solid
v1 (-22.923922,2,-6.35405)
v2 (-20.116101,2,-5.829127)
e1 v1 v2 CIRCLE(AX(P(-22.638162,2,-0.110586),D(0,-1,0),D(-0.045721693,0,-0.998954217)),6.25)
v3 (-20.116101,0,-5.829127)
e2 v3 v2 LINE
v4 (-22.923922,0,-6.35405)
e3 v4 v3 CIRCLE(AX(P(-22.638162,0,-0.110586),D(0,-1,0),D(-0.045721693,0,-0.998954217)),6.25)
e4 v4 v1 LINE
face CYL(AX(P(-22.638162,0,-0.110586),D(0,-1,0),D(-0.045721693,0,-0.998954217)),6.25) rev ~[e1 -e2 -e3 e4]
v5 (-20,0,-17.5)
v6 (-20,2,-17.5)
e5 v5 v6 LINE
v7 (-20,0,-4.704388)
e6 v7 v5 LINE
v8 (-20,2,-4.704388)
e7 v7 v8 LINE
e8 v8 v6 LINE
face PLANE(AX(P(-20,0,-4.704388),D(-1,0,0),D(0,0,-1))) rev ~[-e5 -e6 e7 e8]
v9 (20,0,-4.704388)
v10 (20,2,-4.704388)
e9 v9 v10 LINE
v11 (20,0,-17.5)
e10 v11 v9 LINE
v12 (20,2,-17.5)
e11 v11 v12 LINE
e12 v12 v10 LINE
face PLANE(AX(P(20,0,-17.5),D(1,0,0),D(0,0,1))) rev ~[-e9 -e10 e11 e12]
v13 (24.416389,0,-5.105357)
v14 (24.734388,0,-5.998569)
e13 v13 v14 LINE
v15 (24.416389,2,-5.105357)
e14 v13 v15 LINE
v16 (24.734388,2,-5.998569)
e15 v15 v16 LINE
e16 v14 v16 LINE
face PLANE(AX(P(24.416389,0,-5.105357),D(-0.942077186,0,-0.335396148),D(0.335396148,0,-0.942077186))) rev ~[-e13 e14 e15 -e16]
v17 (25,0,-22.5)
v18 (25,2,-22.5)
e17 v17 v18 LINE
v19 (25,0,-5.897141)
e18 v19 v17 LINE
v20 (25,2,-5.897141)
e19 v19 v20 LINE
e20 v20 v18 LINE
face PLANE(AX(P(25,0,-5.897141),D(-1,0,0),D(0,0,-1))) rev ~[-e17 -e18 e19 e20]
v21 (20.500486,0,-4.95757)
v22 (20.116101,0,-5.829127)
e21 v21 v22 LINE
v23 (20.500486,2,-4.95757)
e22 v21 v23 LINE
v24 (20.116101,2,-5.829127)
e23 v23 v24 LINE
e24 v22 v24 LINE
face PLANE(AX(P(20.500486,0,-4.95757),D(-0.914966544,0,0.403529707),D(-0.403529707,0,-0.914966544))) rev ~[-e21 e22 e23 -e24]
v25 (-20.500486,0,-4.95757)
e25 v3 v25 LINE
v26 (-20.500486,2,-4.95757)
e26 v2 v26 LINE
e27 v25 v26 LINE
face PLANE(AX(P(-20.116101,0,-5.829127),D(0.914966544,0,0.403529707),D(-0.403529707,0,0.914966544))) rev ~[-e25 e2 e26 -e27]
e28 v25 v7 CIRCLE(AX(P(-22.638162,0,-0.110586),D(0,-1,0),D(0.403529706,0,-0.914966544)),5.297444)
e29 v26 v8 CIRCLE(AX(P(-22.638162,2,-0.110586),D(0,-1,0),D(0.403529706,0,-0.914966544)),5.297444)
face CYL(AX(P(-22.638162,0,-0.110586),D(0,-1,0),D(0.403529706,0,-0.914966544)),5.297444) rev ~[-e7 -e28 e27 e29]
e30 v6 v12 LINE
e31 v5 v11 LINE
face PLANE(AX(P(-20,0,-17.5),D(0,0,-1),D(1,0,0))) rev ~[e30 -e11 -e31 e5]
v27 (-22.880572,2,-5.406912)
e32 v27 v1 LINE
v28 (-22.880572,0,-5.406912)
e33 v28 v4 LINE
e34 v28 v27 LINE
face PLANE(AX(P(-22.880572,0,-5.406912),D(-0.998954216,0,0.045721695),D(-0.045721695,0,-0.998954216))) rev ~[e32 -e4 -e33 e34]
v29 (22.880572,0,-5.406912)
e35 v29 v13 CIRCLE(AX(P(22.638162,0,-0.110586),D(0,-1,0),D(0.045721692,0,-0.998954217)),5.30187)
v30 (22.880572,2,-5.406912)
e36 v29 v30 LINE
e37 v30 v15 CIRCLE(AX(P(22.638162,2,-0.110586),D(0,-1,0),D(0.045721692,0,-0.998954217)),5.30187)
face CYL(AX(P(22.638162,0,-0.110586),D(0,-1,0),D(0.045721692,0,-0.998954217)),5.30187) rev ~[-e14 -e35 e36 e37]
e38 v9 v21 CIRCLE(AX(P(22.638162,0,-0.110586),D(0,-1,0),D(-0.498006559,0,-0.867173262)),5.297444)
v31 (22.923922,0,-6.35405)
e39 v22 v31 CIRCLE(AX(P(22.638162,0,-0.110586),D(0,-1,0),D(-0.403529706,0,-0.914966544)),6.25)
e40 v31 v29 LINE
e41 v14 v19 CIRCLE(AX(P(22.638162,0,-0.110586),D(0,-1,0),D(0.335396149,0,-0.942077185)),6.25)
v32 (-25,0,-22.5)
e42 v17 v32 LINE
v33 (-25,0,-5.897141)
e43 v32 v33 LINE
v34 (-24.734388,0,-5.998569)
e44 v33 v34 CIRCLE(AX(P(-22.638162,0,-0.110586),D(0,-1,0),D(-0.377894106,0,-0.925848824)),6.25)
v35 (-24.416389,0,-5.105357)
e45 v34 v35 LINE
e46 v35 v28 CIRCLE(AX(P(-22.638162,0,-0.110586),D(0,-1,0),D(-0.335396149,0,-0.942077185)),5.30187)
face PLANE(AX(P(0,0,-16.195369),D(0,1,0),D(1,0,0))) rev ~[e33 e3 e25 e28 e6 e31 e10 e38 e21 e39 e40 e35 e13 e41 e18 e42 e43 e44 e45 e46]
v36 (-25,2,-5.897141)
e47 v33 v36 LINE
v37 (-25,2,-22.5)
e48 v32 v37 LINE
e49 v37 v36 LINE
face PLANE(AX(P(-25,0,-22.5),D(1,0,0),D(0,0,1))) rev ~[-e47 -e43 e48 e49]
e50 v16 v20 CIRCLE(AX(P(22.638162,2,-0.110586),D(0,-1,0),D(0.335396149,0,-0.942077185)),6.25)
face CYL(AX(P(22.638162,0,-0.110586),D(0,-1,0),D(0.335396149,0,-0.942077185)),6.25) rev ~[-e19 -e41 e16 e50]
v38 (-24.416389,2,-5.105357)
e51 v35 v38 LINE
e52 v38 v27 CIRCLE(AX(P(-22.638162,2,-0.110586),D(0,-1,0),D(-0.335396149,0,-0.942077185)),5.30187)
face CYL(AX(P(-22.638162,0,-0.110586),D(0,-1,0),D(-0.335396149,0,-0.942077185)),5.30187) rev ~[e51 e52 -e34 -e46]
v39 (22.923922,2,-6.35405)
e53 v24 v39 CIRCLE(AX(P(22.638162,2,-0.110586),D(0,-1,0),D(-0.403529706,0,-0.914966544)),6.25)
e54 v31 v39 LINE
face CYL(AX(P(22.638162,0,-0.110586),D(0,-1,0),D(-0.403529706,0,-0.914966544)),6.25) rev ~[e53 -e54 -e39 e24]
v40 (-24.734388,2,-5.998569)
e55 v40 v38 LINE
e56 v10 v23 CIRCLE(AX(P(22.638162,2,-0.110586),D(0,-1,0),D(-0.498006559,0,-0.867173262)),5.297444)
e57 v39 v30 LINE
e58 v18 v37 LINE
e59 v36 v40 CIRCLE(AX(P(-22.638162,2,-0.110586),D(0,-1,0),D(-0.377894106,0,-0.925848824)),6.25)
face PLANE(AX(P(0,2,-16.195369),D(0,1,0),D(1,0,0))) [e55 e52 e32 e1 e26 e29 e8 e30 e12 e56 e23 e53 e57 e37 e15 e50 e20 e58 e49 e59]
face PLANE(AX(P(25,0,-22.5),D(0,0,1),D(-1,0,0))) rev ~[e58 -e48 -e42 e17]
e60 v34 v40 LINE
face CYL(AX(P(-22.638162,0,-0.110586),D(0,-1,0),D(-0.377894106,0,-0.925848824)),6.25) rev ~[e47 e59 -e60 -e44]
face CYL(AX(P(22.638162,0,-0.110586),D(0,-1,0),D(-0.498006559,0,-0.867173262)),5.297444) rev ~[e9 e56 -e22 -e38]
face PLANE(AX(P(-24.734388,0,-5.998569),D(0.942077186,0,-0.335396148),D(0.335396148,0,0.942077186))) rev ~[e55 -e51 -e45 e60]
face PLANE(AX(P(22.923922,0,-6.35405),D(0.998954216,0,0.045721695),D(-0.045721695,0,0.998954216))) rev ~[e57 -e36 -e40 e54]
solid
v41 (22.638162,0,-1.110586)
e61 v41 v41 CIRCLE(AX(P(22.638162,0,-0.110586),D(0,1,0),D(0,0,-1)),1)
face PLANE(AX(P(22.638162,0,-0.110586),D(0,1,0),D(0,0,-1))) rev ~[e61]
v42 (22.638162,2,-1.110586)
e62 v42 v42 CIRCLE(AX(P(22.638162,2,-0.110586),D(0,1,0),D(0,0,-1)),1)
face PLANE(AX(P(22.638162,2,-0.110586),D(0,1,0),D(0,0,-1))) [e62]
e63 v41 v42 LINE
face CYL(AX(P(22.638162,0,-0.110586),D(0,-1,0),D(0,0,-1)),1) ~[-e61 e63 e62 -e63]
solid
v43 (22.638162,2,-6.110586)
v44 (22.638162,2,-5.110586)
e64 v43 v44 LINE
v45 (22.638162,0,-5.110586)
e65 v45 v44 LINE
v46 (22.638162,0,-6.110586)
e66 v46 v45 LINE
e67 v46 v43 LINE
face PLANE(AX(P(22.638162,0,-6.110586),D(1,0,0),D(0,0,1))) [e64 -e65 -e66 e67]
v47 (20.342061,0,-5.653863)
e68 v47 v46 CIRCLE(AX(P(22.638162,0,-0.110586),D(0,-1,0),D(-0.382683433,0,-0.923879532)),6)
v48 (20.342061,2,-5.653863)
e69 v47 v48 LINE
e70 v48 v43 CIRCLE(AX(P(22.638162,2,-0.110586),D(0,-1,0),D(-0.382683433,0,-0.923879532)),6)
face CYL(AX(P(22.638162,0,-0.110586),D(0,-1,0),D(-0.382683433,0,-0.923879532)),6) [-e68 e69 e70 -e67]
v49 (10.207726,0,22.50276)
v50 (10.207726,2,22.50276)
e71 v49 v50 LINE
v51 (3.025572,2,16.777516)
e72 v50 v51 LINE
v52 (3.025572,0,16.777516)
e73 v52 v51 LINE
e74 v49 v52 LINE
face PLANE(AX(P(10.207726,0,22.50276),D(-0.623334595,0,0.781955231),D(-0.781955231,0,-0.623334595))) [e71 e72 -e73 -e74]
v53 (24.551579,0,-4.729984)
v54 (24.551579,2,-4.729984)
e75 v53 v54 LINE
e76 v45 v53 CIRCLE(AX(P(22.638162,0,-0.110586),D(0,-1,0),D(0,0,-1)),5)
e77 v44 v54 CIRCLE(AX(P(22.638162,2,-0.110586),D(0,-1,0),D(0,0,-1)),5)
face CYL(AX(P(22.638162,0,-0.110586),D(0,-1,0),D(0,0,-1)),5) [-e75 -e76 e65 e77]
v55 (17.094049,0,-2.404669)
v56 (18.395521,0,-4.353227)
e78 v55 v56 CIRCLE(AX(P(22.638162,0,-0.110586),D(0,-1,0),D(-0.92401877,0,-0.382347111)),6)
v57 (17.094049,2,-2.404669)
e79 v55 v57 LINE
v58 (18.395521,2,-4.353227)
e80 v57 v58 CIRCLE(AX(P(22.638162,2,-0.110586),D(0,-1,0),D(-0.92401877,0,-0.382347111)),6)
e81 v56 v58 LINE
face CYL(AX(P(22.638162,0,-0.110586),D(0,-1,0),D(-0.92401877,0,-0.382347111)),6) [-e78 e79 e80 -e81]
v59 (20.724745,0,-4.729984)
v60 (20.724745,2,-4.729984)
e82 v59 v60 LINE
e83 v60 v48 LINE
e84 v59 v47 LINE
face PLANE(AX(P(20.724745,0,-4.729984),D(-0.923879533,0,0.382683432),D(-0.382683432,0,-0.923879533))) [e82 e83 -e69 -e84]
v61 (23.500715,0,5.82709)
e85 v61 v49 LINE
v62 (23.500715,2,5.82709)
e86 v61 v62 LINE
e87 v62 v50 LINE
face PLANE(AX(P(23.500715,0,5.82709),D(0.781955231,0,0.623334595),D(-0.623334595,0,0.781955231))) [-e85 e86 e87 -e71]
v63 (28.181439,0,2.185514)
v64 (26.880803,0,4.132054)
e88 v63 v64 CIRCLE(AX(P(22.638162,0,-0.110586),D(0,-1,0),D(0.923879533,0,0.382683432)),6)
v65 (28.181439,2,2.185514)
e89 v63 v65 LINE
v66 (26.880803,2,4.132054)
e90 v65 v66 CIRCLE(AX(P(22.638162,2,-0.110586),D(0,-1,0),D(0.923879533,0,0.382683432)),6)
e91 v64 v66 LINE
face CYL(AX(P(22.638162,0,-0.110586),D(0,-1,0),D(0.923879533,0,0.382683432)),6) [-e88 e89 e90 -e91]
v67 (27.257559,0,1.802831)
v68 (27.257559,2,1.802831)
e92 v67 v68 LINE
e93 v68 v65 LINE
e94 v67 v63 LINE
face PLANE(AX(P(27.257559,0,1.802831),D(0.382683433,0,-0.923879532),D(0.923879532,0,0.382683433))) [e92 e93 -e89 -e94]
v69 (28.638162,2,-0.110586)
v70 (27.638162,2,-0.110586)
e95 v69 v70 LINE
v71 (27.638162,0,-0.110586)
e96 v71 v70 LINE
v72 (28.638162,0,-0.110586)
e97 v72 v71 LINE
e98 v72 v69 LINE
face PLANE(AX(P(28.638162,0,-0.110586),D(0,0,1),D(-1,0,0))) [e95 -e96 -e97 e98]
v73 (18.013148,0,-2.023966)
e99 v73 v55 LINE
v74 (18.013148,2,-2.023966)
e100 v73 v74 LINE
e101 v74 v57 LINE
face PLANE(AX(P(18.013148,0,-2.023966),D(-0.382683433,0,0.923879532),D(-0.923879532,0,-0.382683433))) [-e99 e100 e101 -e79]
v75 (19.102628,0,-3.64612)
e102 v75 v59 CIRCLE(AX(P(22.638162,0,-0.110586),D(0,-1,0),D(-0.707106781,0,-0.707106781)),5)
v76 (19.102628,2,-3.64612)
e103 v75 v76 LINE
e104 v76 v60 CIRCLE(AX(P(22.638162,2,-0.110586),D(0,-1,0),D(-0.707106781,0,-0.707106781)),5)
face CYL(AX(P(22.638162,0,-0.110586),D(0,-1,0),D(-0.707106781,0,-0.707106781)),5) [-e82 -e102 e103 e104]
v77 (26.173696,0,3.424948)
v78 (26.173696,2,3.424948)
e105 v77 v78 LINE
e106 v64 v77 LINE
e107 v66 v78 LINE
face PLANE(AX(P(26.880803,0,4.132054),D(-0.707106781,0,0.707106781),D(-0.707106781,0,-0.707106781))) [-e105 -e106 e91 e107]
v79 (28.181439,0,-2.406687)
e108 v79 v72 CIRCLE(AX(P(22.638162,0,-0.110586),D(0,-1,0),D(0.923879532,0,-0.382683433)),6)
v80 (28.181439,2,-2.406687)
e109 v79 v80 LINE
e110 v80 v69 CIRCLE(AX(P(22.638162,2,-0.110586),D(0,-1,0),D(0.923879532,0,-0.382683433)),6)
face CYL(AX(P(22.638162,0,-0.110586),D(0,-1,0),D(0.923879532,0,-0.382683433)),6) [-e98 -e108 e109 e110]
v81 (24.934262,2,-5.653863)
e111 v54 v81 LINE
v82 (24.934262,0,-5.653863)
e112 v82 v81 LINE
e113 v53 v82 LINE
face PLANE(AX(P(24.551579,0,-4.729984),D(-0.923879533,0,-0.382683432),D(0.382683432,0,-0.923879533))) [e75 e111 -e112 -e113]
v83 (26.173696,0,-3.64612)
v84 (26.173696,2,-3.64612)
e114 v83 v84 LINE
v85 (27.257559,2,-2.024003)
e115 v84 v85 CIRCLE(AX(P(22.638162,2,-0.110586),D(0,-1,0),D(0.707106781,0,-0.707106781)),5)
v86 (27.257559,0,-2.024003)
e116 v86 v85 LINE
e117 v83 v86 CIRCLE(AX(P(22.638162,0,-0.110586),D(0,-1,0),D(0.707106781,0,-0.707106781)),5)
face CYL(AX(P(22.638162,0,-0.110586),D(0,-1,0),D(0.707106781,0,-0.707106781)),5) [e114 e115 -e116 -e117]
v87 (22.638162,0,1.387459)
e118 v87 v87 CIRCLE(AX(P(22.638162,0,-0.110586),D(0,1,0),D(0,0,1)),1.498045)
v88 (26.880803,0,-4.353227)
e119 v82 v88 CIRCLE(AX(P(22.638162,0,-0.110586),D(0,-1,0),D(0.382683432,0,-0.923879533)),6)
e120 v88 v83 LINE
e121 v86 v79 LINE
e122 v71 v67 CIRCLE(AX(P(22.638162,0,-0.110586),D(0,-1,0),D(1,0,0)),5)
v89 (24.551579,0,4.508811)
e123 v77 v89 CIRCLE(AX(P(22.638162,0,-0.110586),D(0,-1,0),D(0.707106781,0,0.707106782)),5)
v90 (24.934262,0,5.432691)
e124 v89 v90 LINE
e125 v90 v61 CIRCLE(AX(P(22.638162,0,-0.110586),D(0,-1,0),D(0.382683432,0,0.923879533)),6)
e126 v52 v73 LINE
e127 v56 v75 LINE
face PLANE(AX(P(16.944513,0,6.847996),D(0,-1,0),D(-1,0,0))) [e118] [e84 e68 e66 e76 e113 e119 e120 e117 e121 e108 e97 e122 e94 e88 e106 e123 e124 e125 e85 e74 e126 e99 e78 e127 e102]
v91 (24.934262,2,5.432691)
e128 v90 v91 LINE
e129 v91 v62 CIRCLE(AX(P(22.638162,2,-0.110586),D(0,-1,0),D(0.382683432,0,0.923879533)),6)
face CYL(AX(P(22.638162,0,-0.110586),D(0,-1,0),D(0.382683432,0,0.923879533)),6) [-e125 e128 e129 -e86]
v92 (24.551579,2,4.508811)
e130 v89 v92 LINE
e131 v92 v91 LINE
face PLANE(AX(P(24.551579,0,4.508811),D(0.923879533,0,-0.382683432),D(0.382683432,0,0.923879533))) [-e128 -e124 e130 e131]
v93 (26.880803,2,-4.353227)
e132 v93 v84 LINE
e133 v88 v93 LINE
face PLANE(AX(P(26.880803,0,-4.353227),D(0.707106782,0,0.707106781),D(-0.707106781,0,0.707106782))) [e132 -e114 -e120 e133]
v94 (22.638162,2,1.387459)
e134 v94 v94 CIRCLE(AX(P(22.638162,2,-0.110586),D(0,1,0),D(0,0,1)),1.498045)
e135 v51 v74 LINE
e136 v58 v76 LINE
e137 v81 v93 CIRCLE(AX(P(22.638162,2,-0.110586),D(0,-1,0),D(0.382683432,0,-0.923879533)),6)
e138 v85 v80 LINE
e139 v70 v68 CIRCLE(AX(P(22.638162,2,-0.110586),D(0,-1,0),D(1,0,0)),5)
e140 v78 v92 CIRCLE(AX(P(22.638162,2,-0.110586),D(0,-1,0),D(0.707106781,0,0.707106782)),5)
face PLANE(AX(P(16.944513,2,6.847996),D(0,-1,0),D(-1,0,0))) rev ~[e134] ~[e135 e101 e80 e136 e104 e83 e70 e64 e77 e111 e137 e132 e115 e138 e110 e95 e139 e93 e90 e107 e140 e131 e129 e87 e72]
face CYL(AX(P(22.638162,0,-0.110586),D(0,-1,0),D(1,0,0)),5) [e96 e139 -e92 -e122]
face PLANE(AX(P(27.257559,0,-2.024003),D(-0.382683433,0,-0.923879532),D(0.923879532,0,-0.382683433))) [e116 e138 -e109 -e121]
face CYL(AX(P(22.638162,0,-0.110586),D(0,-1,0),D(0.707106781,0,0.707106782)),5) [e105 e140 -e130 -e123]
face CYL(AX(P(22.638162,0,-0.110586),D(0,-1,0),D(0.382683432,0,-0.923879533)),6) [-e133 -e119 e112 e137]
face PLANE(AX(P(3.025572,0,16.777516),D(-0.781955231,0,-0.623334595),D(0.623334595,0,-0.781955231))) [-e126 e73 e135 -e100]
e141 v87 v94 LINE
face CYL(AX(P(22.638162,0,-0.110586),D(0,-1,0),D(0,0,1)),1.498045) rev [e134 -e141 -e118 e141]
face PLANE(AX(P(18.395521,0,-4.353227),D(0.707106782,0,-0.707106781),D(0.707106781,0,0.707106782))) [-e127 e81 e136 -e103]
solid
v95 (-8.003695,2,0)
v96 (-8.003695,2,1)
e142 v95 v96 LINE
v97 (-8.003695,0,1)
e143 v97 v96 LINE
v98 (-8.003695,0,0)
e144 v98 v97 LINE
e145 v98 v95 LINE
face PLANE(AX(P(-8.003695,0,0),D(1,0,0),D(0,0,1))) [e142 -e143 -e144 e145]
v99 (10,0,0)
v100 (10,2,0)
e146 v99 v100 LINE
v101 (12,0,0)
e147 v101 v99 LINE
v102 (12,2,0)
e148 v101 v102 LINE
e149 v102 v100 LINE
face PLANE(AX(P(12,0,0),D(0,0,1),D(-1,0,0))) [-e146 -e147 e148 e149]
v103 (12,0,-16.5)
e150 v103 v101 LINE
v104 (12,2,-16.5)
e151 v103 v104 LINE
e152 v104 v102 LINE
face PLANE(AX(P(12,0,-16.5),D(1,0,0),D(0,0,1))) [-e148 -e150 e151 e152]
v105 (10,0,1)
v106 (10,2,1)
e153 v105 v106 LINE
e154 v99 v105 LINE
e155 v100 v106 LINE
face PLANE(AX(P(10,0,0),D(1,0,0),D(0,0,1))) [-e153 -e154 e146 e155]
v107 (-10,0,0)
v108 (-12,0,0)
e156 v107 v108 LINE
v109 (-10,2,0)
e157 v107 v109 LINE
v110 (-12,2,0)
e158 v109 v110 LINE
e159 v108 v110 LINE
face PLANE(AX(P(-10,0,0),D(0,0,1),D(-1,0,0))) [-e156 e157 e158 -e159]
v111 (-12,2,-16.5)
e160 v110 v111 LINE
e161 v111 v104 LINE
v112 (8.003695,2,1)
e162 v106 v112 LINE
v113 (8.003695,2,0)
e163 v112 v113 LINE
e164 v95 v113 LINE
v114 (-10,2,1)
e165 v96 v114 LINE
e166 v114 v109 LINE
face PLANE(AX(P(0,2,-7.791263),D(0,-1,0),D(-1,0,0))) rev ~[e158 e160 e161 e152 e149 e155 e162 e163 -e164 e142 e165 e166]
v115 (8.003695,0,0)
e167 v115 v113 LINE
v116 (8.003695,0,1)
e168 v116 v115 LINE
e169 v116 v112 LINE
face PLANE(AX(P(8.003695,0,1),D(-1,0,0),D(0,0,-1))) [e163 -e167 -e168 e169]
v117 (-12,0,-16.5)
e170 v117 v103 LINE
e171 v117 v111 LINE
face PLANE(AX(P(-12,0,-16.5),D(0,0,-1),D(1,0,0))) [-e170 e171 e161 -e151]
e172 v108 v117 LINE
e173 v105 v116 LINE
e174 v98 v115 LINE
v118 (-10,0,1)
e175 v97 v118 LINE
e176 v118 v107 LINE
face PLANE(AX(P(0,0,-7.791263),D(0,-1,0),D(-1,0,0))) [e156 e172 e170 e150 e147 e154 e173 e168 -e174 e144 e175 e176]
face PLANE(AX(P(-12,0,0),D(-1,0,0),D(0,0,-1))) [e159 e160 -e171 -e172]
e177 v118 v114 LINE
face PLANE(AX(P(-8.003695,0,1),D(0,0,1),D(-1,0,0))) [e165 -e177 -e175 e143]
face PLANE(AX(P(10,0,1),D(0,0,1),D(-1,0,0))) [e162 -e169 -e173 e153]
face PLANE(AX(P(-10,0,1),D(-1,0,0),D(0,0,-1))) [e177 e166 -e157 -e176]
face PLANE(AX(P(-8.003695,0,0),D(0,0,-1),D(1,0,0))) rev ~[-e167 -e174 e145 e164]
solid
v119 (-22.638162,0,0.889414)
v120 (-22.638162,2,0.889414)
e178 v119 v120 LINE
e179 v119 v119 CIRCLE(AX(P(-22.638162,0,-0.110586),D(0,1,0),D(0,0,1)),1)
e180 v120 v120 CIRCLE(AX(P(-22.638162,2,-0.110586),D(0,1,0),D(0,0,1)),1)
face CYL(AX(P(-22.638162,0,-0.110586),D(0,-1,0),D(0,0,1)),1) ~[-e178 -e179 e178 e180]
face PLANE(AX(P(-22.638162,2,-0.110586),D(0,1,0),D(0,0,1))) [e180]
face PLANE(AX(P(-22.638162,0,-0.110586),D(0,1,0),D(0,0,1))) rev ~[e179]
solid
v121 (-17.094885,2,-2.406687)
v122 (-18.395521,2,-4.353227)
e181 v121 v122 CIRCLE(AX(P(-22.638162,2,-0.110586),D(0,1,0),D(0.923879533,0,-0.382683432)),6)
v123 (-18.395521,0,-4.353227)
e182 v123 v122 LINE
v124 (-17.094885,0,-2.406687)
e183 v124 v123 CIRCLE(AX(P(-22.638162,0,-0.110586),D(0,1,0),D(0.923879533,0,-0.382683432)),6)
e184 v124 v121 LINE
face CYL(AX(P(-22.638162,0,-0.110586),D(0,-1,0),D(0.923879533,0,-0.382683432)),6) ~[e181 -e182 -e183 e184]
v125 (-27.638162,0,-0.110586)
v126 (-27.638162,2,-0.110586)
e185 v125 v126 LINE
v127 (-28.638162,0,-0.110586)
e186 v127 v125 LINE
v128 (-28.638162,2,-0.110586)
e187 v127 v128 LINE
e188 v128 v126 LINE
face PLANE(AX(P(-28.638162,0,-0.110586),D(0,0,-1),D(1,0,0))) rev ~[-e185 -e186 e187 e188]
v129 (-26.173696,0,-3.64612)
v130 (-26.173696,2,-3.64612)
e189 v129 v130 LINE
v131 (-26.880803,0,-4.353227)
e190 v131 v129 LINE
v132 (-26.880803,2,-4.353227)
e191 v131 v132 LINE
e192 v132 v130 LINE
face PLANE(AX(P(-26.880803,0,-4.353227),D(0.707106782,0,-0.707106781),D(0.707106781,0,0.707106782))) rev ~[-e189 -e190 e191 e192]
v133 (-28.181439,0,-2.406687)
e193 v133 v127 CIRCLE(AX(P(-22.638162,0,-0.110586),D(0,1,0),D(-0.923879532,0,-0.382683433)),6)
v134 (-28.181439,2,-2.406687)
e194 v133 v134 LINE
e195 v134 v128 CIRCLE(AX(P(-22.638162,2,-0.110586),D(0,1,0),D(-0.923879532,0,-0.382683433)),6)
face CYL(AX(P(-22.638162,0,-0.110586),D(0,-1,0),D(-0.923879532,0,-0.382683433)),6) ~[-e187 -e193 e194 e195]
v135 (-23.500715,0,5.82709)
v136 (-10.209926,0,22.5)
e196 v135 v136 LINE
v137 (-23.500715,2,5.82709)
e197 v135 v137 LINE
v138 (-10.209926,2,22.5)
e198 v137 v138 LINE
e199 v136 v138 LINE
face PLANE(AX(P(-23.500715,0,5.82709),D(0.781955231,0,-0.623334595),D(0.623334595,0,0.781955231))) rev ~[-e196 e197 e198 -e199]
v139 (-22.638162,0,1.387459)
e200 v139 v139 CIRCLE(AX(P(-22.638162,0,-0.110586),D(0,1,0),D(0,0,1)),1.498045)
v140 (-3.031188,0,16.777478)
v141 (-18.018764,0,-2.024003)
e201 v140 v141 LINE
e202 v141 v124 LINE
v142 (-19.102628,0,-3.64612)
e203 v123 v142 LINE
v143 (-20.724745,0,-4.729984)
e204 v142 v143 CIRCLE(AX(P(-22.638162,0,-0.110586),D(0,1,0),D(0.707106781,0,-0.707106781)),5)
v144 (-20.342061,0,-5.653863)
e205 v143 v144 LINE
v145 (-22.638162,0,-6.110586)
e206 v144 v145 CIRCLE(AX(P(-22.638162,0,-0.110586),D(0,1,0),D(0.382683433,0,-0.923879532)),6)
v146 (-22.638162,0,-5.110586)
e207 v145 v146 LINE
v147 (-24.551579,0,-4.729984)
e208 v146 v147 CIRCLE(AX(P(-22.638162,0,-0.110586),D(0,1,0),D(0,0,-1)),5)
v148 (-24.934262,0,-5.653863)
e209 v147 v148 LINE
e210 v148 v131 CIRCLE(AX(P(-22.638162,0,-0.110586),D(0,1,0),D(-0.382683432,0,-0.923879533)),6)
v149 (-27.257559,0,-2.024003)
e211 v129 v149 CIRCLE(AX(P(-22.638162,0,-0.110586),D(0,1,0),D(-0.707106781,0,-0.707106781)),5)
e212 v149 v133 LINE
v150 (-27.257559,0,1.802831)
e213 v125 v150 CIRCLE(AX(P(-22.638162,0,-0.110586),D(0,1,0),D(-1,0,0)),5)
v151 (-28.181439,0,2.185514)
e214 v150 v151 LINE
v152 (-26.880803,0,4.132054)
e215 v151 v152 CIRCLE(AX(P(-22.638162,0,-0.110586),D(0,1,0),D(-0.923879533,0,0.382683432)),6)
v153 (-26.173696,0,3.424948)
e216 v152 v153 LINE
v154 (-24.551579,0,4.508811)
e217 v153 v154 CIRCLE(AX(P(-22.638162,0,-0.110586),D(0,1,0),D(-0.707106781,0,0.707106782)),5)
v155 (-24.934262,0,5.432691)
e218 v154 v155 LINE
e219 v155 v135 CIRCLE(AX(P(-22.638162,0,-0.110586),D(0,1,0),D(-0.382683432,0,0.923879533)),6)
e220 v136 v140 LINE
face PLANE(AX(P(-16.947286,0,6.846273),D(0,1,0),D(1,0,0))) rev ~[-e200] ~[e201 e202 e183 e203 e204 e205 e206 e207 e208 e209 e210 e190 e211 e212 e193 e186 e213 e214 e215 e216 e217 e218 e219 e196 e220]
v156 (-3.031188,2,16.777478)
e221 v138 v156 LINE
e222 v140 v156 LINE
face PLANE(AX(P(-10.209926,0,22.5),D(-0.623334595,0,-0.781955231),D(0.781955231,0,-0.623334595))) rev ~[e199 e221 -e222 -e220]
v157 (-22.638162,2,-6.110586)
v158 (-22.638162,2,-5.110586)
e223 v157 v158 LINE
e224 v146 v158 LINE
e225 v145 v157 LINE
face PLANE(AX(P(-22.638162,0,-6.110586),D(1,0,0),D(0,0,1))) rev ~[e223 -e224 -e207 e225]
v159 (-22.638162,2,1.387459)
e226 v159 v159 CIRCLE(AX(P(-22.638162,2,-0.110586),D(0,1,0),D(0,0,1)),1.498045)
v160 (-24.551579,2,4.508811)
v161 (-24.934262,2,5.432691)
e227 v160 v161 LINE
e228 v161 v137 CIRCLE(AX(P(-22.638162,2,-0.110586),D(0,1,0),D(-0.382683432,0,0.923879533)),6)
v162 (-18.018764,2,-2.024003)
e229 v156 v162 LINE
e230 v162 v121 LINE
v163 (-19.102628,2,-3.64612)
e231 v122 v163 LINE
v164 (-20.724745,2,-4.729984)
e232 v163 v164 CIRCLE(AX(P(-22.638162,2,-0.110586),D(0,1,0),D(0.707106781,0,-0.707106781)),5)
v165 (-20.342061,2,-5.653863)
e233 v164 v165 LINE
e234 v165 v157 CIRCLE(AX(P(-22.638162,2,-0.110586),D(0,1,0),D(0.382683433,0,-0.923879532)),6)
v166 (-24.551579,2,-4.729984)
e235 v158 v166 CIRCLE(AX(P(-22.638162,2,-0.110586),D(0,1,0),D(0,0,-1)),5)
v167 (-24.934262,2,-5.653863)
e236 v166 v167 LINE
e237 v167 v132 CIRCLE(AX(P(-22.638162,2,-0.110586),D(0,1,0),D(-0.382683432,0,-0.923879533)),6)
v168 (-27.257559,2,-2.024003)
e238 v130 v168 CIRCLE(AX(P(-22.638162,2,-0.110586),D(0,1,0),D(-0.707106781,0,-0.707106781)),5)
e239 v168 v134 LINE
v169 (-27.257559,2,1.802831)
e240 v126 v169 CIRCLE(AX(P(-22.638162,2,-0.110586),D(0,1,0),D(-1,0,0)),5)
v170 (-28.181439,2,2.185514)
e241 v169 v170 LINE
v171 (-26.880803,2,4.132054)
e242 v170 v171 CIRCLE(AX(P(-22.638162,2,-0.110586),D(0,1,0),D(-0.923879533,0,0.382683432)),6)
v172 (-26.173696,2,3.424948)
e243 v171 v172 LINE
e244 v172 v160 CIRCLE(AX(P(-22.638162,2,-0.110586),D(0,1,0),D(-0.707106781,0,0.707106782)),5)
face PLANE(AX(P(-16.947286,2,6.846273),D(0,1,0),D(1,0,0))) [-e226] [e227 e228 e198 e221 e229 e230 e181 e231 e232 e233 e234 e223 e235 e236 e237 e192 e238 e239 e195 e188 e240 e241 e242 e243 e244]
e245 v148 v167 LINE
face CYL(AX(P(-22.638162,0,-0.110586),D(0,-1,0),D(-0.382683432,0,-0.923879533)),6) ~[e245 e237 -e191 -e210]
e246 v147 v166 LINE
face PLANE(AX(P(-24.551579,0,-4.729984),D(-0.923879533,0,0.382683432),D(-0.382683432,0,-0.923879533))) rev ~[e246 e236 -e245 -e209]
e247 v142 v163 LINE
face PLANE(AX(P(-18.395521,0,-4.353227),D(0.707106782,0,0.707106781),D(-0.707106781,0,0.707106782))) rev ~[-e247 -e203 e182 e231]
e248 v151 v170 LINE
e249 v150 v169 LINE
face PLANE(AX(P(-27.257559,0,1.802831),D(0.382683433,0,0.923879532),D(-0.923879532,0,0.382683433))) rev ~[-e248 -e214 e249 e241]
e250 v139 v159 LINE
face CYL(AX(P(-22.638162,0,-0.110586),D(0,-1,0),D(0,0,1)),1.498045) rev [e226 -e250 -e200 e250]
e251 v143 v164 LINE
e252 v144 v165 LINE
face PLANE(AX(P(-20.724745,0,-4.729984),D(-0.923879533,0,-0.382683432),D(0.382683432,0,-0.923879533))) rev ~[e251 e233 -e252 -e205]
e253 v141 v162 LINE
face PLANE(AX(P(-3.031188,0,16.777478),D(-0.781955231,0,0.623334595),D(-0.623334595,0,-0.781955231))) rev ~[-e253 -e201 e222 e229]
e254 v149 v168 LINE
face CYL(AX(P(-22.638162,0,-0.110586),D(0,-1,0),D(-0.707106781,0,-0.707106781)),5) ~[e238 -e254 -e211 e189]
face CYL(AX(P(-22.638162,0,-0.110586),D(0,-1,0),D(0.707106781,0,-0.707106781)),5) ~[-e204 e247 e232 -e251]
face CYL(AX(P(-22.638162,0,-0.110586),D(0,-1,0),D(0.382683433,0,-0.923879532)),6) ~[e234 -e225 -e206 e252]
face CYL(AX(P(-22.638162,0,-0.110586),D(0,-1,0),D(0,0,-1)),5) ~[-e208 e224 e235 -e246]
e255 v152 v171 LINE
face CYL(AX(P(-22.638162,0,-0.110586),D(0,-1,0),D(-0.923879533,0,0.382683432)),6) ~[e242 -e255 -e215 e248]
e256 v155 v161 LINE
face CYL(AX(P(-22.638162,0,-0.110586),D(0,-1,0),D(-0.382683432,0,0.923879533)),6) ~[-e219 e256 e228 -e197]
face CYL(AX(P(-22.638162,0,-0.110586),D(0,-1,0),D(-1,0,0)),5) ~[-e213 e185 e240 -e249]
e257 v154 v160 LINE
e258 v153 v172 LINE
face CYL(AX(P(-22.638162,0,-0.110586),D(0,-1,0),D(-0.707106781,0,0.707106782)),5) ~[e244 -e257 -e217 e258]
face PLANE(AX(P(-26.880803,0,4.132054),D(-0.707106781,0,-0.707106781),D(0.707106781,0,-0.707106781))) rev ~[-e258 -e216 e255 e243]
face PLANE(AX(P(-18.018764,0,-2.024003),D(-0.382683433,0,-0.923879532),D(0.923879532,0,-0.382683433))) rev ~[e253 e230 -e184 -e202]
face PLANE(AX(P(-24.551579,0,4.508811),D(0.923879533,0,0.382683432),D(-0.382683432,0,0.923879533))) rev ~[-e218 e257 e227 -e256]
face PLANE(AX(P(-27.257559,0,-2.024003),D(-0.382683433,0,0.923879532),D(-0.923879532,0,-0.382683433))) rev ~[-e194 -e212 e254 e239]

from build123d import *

# Parameters (mm, degrees)
SKETCH1_R             = 1.498045306
BOSS_EXTRUDE2_DEPTH   = 2
BOSS_EXTRUDE2_2_DEPTH = 2
BOSS_EXTRUDE2_3_DEPTH = 2
BOSS_EXTRUDE2_4_DEPTH = 2
SKETCH2_R             = 1
BOSS_EXTRUDE4_DEPTH   = 2
BOSS_EXTRUDE4_2_DEPTH = 2


with BuildPart() as part:
    # Sketch1 → Boss-Extrude2 (new body)
    with BuildSketch(Plane(origin=(0, 0, 0), x_dir=(1, 0, 0), z_dir=(0, 1, 0))):
        with BuildLine():
            ThreePointArc((24.93426242, -5.432691005), (24.22975243, -5.674466908), (23.500714707, -5.827090336))
            Line((23.500714707, -5.827090336), (10.20772594, -22.502760482))
            Line((10.20772594, -22.502760482), (3.025571641, -16.777515525))
            Line((3.025571641, -16.777515525), (18.013147942, 2.023965696))
            Line((18.013147942, 2.023965696), (17.094049208, 2.404668857))
            ThreePointArc((17.094049208, 2.404668857), (17.648737545, 3.443099558), (18.395521139, 4.353226878))
            Line((18.395521139, 4.353226878), (19.10262792, 3.646120096))
            ThreePointArc((19.10262792, 3.646120096), (19.860310661, 4.267934252), (20.724744664, 4.729983853))
            Line((20.724744664, 4.729983853), (20.342061232, 5.653863385))
            ThreePointArc((20.342061232, 5.653863385), (21.467619894, 5.995297873), (22.638161826, 6.11058619))
            Line((22.638161826, 6.11058619), (22.638161826, 5.11058619))
            ThreePointArc((22.638161826, 5.11058619), (23.613613436, 5.014512592), (24.551578988, 4.729983853))
            Line((24.551578988, 4.729983853), (24.93426242, 5.653863385))
            ThreePointArc((24.93426242, 5.653863385), (25.971583224, 5.099403864), (26.880802513, 4.353226878))
            Line((26.880802513, 4.353226878), (26.173695732, 3.646120096))
            ThreePointArc((26.173695732, 3.646120096), (26.795509888, 2.888437355), (27.257559489, 2.024003352))
            Line((27.257559489, 2.024003352), (28.181439021, 2.406686785))
            ThreePointArc((28.181439021, 2.406686785), (28.522873509, 1.281128122), (28.638161826, 0.11058619))
            Line((28.638161826, 0.11058619), (27.638161826, 0.11058619))
            ThreePointArc((27.638161826, 0.11058619), (27.542088228, -0.86486542), (27.257559489, -1.802830971))
            Line((27.257559489, -1.802830971), (28.181439021, -2.185514404))
            ThreePointArc((28.181439021, -2.185514404), (27.6269795, -3.222835208), (26.880802513, -4.132054497))
            Line((26.880802513, -4.132054497), (26.173695732, -3.424947716))
            ThreePointArc((26.173695732, -3.424947716), (25.416012991, -4.046761871), (24.551578988, -4.508811472))
            Line((24.551578988, -4.508811472), (24.93426242, -5.432691005))
        make_face()
        with Locations(Location((22.638161826, 0.11058619, 0), (0, 0, 270))):
            Circle(SKETCH1_R, mode=Mode.SUBTRACT)
    extrude(amount=BOSS_EXTRUDE2_DEPTH)


with BuildPart() as body_2:
    # Sketch1 → Boss-Extrude2 2 (new body)
    with BuildSketch(Plane(origin=(0, 0, 0), x_dir=(1, 0, 0), z_dir=(0, 1, 0))):
        with BuildLine():
            Line((-28.638161826, 0.11058619), (-27.638161826, 0.11058619))
            ThreePointArc((-27.638161826, 0.11058619), (-27.542088228, -0.86486542), (-27.257559489, -1.802830971))
            Line((-27.257559489, -1.802830971), (-28.181439021, -2.185514404))
            ThreePointArc((-28.181439021, -2.185514404), (-27.6269795, -3.222835208), (-26.880802513, -4.132054497))
            Line((-26.880802513, -4.132054497), (-26.173695732, -3.424947716))
            ThreePointArc((-26.173695732, -3.424947716), (-25.416012991, -4.046761871), (-24.551578988, -4.508811472))
            Line((-24.551578988, -4.508811472), (-24.93426242, -5.432691005))
            ThreePointArc((-24.93426242, -5.432691005), (-24.22975243, -5.674466908), (-23.500714707, -5.827090336))
            Line((-23.500714707, -5.827090336), (-10.209926455, -22.5))
            Line((-10.209926455, -22.5), (-3.031187863, -16.777477869))
            Line((-3.031187863, -16.777477869), (-18.018764164, 2.024003352))
            Line((-18.018764164, 2.024003352), (-17.094884631, 2.406686785))
            ThreePointArc((-17.094884631, 2.406686785), (-17.649344152, 3.444007589), (-18.395521139, 4.353226878))
            Line((-18.395521139, 4.353226878), (-19.10262792, 3.646120096))
            ThreePointArc((-19.10262792, 3.646120096), (-19.860310661, 4.267934252), (-20.724744664, 4.729983853))
            Line((-20.724744664, 4.729983853), (-20.342061232, 5.653863385))
            ThreePointArc((-20.342061232, 5.653863385), (-21.467619894, 5.995297873), (-22.638161826, 6.11058619))
            Line((-22.638161826, 6.11058619), (-22.638161826, 5.11058619))
            ThreePointArc((-22.638161826, 5.11058619), (-23.613613436, 5.014512592), (-24.551578988, 4.729983853))
            Line((-24.551578988, 4.729983853), (-24.93426242, 5.653863385))
            ThreePointArc((-24.93426242, 5.653863385), (-25.971583224, 5.099403864), (-26.880802513, 4.353226878))
            Line((-26.880802513, 4.353226878), (-26.173695732, 3.646120096))
            ThreePointArc((-26.173695732, 3.646120096), (-26.795509888, 2.888437355), (-27.257559489, 2.024003352))
            Line((-27.257559489, 2.024003352), (-28.181439021, 2.406686785))
            ThreePointArc((-28.181439021, 2.406686785), (-28.522873509, 1.281128122), (-28.638161826, 0.11058619))
        make_face()
        with Locations(Location((-22.638161826, 0.11058619, 0), (0, 0, 270))):
            Circle(SKETCH1_R, mode=Mode.SUBTRACT)
    extrude(amount=BOSS_EXTRUDE2_2_DEPTH)


with BuildPart() as body_3:
    # Sketch1 → Boss-Extrude2 3 (new body)
    with BuildSketch(Plane(origin=(0, 0, 0), x_dir=(1, 0, 0), z_dir=(0, 1, 0))):
        Polygon((10, 0), (10, -1), (8.003694636, -1), (8.003694636, 0), (0, 0), (-8.003694636, 0), (-8.003694636, -1), (-10, -1), (-10, 0), (-12, 0), (-12, 16.5), (12, 16.5), (12, 0), align=None)
    extrude(amount=BOSS_EXTRUDE2_3_DEPTH)


with BuildPart() as body_4:
    # Sketch1 → Boss-Extrude2 4 (new body)
    with BuildSketch(Plane(origin=(0, 0, 0), x_dir=(1, 0, 0), z_dir=(0, 1, 0))):
        with BuildLine():
            Line((20, 17.5), (20, 4.704387934))
            ThreePointArc((20, 4.704387934), (20.246889772, 4.837607477), (20.500485829, 4.957570161))
            Line((20.500485829, 4.957570161), (20.116101161, 5.829127088))
            ThreePointArc((20.116101161, 5.829127088), (21.489621214, 6.254148224), (22.923922413, 6.354050044))
            Line((22.923922413, 6.354050044), (22.880572318, 5.406911915))
            ThreePointArc((22.880572318, 5.406911915), (23.659669367, 5.31311936), (24.416388714, 5.105357273))
            Line((24.416388714, 5.105357273), (24.734387752, 5.998568601))
            ThreePointArc((24.734387752, 5.998568601), (24.867770705, 5.949365536), (25, 5.897141335))
            Line((25, 5.897141335), (25, 22.5))
            Line((25, 22.5), (-25, 22.5))
            Line((-25, 22.5), (-25, 5.897141335))
            ThreePointArc((-25, 5.897141335), (-24.867770705, 5.949365536), (-24.734387752, 5.998568601))
            Line((-24.734387752, 5.998568601), (-24.416388714, 5.105357273))
            ThreePointArc((-24.416388714, 5.105357273), (-23.659669367, 5.31311936), (-22.880572318, 5.406911915))
            Line((-22.880572318, 5.406911915), (-22.923922413, 6.354050044))
            ThreePointArc((-22.923922413, 6.354050044), (-21.489621214, 6.254148224), (-20.116101161, 5.829127088))
            Line((-20.116101161, 5.829127088), (-20.500485829, 4.957570161))
            ThreePointArc((-20.500485829, 4.957570161), (-20.246889772, 4.837607477), (-20, 4.704387934))
            Line((-20, 4.704387934), (-20, 17.5))
            Line((-20, 17.5), (20, 17.5))
        make_face()
    extrude(amount=BOSS_EXTRUDE2_4_DEPTH)


with BuildPart() as body_5:
    # Sketch2 → Boss-Extrude4 (new body)
    with BuildSketch(Plane(origin=(0, 0, 0), x_dir=(1, 0, 0), z_dir=(0, 1, 0))):
        with Locations(Location((22.638161826, 0.11058619, 0), (0, 0, 90))):
            Circle(SKETCH2_R)
    extrude(amount=BOSS_EXTRUDE4_DEPTH)


with BuildPart() as body_6:
    # Sketch2 → Boss-Extrude4 2 (new body)
    with BuildSketch(Plane(origin=(0, 0, 0), x_dir=(1, 0, 0), z_dir=(0, 1, 0))):
        with Locations(Location((-22.638161826, 0.11058619, 0), (0, 0, 270))):
            Circle(SKETCH2_R)
    extrude(amount=BOSS_EXTRUDE4_2_DEPTH)


solid = Compound([part.part, body_2.part, body_3.part, body_4.part, body_5.part, body_6.part])
